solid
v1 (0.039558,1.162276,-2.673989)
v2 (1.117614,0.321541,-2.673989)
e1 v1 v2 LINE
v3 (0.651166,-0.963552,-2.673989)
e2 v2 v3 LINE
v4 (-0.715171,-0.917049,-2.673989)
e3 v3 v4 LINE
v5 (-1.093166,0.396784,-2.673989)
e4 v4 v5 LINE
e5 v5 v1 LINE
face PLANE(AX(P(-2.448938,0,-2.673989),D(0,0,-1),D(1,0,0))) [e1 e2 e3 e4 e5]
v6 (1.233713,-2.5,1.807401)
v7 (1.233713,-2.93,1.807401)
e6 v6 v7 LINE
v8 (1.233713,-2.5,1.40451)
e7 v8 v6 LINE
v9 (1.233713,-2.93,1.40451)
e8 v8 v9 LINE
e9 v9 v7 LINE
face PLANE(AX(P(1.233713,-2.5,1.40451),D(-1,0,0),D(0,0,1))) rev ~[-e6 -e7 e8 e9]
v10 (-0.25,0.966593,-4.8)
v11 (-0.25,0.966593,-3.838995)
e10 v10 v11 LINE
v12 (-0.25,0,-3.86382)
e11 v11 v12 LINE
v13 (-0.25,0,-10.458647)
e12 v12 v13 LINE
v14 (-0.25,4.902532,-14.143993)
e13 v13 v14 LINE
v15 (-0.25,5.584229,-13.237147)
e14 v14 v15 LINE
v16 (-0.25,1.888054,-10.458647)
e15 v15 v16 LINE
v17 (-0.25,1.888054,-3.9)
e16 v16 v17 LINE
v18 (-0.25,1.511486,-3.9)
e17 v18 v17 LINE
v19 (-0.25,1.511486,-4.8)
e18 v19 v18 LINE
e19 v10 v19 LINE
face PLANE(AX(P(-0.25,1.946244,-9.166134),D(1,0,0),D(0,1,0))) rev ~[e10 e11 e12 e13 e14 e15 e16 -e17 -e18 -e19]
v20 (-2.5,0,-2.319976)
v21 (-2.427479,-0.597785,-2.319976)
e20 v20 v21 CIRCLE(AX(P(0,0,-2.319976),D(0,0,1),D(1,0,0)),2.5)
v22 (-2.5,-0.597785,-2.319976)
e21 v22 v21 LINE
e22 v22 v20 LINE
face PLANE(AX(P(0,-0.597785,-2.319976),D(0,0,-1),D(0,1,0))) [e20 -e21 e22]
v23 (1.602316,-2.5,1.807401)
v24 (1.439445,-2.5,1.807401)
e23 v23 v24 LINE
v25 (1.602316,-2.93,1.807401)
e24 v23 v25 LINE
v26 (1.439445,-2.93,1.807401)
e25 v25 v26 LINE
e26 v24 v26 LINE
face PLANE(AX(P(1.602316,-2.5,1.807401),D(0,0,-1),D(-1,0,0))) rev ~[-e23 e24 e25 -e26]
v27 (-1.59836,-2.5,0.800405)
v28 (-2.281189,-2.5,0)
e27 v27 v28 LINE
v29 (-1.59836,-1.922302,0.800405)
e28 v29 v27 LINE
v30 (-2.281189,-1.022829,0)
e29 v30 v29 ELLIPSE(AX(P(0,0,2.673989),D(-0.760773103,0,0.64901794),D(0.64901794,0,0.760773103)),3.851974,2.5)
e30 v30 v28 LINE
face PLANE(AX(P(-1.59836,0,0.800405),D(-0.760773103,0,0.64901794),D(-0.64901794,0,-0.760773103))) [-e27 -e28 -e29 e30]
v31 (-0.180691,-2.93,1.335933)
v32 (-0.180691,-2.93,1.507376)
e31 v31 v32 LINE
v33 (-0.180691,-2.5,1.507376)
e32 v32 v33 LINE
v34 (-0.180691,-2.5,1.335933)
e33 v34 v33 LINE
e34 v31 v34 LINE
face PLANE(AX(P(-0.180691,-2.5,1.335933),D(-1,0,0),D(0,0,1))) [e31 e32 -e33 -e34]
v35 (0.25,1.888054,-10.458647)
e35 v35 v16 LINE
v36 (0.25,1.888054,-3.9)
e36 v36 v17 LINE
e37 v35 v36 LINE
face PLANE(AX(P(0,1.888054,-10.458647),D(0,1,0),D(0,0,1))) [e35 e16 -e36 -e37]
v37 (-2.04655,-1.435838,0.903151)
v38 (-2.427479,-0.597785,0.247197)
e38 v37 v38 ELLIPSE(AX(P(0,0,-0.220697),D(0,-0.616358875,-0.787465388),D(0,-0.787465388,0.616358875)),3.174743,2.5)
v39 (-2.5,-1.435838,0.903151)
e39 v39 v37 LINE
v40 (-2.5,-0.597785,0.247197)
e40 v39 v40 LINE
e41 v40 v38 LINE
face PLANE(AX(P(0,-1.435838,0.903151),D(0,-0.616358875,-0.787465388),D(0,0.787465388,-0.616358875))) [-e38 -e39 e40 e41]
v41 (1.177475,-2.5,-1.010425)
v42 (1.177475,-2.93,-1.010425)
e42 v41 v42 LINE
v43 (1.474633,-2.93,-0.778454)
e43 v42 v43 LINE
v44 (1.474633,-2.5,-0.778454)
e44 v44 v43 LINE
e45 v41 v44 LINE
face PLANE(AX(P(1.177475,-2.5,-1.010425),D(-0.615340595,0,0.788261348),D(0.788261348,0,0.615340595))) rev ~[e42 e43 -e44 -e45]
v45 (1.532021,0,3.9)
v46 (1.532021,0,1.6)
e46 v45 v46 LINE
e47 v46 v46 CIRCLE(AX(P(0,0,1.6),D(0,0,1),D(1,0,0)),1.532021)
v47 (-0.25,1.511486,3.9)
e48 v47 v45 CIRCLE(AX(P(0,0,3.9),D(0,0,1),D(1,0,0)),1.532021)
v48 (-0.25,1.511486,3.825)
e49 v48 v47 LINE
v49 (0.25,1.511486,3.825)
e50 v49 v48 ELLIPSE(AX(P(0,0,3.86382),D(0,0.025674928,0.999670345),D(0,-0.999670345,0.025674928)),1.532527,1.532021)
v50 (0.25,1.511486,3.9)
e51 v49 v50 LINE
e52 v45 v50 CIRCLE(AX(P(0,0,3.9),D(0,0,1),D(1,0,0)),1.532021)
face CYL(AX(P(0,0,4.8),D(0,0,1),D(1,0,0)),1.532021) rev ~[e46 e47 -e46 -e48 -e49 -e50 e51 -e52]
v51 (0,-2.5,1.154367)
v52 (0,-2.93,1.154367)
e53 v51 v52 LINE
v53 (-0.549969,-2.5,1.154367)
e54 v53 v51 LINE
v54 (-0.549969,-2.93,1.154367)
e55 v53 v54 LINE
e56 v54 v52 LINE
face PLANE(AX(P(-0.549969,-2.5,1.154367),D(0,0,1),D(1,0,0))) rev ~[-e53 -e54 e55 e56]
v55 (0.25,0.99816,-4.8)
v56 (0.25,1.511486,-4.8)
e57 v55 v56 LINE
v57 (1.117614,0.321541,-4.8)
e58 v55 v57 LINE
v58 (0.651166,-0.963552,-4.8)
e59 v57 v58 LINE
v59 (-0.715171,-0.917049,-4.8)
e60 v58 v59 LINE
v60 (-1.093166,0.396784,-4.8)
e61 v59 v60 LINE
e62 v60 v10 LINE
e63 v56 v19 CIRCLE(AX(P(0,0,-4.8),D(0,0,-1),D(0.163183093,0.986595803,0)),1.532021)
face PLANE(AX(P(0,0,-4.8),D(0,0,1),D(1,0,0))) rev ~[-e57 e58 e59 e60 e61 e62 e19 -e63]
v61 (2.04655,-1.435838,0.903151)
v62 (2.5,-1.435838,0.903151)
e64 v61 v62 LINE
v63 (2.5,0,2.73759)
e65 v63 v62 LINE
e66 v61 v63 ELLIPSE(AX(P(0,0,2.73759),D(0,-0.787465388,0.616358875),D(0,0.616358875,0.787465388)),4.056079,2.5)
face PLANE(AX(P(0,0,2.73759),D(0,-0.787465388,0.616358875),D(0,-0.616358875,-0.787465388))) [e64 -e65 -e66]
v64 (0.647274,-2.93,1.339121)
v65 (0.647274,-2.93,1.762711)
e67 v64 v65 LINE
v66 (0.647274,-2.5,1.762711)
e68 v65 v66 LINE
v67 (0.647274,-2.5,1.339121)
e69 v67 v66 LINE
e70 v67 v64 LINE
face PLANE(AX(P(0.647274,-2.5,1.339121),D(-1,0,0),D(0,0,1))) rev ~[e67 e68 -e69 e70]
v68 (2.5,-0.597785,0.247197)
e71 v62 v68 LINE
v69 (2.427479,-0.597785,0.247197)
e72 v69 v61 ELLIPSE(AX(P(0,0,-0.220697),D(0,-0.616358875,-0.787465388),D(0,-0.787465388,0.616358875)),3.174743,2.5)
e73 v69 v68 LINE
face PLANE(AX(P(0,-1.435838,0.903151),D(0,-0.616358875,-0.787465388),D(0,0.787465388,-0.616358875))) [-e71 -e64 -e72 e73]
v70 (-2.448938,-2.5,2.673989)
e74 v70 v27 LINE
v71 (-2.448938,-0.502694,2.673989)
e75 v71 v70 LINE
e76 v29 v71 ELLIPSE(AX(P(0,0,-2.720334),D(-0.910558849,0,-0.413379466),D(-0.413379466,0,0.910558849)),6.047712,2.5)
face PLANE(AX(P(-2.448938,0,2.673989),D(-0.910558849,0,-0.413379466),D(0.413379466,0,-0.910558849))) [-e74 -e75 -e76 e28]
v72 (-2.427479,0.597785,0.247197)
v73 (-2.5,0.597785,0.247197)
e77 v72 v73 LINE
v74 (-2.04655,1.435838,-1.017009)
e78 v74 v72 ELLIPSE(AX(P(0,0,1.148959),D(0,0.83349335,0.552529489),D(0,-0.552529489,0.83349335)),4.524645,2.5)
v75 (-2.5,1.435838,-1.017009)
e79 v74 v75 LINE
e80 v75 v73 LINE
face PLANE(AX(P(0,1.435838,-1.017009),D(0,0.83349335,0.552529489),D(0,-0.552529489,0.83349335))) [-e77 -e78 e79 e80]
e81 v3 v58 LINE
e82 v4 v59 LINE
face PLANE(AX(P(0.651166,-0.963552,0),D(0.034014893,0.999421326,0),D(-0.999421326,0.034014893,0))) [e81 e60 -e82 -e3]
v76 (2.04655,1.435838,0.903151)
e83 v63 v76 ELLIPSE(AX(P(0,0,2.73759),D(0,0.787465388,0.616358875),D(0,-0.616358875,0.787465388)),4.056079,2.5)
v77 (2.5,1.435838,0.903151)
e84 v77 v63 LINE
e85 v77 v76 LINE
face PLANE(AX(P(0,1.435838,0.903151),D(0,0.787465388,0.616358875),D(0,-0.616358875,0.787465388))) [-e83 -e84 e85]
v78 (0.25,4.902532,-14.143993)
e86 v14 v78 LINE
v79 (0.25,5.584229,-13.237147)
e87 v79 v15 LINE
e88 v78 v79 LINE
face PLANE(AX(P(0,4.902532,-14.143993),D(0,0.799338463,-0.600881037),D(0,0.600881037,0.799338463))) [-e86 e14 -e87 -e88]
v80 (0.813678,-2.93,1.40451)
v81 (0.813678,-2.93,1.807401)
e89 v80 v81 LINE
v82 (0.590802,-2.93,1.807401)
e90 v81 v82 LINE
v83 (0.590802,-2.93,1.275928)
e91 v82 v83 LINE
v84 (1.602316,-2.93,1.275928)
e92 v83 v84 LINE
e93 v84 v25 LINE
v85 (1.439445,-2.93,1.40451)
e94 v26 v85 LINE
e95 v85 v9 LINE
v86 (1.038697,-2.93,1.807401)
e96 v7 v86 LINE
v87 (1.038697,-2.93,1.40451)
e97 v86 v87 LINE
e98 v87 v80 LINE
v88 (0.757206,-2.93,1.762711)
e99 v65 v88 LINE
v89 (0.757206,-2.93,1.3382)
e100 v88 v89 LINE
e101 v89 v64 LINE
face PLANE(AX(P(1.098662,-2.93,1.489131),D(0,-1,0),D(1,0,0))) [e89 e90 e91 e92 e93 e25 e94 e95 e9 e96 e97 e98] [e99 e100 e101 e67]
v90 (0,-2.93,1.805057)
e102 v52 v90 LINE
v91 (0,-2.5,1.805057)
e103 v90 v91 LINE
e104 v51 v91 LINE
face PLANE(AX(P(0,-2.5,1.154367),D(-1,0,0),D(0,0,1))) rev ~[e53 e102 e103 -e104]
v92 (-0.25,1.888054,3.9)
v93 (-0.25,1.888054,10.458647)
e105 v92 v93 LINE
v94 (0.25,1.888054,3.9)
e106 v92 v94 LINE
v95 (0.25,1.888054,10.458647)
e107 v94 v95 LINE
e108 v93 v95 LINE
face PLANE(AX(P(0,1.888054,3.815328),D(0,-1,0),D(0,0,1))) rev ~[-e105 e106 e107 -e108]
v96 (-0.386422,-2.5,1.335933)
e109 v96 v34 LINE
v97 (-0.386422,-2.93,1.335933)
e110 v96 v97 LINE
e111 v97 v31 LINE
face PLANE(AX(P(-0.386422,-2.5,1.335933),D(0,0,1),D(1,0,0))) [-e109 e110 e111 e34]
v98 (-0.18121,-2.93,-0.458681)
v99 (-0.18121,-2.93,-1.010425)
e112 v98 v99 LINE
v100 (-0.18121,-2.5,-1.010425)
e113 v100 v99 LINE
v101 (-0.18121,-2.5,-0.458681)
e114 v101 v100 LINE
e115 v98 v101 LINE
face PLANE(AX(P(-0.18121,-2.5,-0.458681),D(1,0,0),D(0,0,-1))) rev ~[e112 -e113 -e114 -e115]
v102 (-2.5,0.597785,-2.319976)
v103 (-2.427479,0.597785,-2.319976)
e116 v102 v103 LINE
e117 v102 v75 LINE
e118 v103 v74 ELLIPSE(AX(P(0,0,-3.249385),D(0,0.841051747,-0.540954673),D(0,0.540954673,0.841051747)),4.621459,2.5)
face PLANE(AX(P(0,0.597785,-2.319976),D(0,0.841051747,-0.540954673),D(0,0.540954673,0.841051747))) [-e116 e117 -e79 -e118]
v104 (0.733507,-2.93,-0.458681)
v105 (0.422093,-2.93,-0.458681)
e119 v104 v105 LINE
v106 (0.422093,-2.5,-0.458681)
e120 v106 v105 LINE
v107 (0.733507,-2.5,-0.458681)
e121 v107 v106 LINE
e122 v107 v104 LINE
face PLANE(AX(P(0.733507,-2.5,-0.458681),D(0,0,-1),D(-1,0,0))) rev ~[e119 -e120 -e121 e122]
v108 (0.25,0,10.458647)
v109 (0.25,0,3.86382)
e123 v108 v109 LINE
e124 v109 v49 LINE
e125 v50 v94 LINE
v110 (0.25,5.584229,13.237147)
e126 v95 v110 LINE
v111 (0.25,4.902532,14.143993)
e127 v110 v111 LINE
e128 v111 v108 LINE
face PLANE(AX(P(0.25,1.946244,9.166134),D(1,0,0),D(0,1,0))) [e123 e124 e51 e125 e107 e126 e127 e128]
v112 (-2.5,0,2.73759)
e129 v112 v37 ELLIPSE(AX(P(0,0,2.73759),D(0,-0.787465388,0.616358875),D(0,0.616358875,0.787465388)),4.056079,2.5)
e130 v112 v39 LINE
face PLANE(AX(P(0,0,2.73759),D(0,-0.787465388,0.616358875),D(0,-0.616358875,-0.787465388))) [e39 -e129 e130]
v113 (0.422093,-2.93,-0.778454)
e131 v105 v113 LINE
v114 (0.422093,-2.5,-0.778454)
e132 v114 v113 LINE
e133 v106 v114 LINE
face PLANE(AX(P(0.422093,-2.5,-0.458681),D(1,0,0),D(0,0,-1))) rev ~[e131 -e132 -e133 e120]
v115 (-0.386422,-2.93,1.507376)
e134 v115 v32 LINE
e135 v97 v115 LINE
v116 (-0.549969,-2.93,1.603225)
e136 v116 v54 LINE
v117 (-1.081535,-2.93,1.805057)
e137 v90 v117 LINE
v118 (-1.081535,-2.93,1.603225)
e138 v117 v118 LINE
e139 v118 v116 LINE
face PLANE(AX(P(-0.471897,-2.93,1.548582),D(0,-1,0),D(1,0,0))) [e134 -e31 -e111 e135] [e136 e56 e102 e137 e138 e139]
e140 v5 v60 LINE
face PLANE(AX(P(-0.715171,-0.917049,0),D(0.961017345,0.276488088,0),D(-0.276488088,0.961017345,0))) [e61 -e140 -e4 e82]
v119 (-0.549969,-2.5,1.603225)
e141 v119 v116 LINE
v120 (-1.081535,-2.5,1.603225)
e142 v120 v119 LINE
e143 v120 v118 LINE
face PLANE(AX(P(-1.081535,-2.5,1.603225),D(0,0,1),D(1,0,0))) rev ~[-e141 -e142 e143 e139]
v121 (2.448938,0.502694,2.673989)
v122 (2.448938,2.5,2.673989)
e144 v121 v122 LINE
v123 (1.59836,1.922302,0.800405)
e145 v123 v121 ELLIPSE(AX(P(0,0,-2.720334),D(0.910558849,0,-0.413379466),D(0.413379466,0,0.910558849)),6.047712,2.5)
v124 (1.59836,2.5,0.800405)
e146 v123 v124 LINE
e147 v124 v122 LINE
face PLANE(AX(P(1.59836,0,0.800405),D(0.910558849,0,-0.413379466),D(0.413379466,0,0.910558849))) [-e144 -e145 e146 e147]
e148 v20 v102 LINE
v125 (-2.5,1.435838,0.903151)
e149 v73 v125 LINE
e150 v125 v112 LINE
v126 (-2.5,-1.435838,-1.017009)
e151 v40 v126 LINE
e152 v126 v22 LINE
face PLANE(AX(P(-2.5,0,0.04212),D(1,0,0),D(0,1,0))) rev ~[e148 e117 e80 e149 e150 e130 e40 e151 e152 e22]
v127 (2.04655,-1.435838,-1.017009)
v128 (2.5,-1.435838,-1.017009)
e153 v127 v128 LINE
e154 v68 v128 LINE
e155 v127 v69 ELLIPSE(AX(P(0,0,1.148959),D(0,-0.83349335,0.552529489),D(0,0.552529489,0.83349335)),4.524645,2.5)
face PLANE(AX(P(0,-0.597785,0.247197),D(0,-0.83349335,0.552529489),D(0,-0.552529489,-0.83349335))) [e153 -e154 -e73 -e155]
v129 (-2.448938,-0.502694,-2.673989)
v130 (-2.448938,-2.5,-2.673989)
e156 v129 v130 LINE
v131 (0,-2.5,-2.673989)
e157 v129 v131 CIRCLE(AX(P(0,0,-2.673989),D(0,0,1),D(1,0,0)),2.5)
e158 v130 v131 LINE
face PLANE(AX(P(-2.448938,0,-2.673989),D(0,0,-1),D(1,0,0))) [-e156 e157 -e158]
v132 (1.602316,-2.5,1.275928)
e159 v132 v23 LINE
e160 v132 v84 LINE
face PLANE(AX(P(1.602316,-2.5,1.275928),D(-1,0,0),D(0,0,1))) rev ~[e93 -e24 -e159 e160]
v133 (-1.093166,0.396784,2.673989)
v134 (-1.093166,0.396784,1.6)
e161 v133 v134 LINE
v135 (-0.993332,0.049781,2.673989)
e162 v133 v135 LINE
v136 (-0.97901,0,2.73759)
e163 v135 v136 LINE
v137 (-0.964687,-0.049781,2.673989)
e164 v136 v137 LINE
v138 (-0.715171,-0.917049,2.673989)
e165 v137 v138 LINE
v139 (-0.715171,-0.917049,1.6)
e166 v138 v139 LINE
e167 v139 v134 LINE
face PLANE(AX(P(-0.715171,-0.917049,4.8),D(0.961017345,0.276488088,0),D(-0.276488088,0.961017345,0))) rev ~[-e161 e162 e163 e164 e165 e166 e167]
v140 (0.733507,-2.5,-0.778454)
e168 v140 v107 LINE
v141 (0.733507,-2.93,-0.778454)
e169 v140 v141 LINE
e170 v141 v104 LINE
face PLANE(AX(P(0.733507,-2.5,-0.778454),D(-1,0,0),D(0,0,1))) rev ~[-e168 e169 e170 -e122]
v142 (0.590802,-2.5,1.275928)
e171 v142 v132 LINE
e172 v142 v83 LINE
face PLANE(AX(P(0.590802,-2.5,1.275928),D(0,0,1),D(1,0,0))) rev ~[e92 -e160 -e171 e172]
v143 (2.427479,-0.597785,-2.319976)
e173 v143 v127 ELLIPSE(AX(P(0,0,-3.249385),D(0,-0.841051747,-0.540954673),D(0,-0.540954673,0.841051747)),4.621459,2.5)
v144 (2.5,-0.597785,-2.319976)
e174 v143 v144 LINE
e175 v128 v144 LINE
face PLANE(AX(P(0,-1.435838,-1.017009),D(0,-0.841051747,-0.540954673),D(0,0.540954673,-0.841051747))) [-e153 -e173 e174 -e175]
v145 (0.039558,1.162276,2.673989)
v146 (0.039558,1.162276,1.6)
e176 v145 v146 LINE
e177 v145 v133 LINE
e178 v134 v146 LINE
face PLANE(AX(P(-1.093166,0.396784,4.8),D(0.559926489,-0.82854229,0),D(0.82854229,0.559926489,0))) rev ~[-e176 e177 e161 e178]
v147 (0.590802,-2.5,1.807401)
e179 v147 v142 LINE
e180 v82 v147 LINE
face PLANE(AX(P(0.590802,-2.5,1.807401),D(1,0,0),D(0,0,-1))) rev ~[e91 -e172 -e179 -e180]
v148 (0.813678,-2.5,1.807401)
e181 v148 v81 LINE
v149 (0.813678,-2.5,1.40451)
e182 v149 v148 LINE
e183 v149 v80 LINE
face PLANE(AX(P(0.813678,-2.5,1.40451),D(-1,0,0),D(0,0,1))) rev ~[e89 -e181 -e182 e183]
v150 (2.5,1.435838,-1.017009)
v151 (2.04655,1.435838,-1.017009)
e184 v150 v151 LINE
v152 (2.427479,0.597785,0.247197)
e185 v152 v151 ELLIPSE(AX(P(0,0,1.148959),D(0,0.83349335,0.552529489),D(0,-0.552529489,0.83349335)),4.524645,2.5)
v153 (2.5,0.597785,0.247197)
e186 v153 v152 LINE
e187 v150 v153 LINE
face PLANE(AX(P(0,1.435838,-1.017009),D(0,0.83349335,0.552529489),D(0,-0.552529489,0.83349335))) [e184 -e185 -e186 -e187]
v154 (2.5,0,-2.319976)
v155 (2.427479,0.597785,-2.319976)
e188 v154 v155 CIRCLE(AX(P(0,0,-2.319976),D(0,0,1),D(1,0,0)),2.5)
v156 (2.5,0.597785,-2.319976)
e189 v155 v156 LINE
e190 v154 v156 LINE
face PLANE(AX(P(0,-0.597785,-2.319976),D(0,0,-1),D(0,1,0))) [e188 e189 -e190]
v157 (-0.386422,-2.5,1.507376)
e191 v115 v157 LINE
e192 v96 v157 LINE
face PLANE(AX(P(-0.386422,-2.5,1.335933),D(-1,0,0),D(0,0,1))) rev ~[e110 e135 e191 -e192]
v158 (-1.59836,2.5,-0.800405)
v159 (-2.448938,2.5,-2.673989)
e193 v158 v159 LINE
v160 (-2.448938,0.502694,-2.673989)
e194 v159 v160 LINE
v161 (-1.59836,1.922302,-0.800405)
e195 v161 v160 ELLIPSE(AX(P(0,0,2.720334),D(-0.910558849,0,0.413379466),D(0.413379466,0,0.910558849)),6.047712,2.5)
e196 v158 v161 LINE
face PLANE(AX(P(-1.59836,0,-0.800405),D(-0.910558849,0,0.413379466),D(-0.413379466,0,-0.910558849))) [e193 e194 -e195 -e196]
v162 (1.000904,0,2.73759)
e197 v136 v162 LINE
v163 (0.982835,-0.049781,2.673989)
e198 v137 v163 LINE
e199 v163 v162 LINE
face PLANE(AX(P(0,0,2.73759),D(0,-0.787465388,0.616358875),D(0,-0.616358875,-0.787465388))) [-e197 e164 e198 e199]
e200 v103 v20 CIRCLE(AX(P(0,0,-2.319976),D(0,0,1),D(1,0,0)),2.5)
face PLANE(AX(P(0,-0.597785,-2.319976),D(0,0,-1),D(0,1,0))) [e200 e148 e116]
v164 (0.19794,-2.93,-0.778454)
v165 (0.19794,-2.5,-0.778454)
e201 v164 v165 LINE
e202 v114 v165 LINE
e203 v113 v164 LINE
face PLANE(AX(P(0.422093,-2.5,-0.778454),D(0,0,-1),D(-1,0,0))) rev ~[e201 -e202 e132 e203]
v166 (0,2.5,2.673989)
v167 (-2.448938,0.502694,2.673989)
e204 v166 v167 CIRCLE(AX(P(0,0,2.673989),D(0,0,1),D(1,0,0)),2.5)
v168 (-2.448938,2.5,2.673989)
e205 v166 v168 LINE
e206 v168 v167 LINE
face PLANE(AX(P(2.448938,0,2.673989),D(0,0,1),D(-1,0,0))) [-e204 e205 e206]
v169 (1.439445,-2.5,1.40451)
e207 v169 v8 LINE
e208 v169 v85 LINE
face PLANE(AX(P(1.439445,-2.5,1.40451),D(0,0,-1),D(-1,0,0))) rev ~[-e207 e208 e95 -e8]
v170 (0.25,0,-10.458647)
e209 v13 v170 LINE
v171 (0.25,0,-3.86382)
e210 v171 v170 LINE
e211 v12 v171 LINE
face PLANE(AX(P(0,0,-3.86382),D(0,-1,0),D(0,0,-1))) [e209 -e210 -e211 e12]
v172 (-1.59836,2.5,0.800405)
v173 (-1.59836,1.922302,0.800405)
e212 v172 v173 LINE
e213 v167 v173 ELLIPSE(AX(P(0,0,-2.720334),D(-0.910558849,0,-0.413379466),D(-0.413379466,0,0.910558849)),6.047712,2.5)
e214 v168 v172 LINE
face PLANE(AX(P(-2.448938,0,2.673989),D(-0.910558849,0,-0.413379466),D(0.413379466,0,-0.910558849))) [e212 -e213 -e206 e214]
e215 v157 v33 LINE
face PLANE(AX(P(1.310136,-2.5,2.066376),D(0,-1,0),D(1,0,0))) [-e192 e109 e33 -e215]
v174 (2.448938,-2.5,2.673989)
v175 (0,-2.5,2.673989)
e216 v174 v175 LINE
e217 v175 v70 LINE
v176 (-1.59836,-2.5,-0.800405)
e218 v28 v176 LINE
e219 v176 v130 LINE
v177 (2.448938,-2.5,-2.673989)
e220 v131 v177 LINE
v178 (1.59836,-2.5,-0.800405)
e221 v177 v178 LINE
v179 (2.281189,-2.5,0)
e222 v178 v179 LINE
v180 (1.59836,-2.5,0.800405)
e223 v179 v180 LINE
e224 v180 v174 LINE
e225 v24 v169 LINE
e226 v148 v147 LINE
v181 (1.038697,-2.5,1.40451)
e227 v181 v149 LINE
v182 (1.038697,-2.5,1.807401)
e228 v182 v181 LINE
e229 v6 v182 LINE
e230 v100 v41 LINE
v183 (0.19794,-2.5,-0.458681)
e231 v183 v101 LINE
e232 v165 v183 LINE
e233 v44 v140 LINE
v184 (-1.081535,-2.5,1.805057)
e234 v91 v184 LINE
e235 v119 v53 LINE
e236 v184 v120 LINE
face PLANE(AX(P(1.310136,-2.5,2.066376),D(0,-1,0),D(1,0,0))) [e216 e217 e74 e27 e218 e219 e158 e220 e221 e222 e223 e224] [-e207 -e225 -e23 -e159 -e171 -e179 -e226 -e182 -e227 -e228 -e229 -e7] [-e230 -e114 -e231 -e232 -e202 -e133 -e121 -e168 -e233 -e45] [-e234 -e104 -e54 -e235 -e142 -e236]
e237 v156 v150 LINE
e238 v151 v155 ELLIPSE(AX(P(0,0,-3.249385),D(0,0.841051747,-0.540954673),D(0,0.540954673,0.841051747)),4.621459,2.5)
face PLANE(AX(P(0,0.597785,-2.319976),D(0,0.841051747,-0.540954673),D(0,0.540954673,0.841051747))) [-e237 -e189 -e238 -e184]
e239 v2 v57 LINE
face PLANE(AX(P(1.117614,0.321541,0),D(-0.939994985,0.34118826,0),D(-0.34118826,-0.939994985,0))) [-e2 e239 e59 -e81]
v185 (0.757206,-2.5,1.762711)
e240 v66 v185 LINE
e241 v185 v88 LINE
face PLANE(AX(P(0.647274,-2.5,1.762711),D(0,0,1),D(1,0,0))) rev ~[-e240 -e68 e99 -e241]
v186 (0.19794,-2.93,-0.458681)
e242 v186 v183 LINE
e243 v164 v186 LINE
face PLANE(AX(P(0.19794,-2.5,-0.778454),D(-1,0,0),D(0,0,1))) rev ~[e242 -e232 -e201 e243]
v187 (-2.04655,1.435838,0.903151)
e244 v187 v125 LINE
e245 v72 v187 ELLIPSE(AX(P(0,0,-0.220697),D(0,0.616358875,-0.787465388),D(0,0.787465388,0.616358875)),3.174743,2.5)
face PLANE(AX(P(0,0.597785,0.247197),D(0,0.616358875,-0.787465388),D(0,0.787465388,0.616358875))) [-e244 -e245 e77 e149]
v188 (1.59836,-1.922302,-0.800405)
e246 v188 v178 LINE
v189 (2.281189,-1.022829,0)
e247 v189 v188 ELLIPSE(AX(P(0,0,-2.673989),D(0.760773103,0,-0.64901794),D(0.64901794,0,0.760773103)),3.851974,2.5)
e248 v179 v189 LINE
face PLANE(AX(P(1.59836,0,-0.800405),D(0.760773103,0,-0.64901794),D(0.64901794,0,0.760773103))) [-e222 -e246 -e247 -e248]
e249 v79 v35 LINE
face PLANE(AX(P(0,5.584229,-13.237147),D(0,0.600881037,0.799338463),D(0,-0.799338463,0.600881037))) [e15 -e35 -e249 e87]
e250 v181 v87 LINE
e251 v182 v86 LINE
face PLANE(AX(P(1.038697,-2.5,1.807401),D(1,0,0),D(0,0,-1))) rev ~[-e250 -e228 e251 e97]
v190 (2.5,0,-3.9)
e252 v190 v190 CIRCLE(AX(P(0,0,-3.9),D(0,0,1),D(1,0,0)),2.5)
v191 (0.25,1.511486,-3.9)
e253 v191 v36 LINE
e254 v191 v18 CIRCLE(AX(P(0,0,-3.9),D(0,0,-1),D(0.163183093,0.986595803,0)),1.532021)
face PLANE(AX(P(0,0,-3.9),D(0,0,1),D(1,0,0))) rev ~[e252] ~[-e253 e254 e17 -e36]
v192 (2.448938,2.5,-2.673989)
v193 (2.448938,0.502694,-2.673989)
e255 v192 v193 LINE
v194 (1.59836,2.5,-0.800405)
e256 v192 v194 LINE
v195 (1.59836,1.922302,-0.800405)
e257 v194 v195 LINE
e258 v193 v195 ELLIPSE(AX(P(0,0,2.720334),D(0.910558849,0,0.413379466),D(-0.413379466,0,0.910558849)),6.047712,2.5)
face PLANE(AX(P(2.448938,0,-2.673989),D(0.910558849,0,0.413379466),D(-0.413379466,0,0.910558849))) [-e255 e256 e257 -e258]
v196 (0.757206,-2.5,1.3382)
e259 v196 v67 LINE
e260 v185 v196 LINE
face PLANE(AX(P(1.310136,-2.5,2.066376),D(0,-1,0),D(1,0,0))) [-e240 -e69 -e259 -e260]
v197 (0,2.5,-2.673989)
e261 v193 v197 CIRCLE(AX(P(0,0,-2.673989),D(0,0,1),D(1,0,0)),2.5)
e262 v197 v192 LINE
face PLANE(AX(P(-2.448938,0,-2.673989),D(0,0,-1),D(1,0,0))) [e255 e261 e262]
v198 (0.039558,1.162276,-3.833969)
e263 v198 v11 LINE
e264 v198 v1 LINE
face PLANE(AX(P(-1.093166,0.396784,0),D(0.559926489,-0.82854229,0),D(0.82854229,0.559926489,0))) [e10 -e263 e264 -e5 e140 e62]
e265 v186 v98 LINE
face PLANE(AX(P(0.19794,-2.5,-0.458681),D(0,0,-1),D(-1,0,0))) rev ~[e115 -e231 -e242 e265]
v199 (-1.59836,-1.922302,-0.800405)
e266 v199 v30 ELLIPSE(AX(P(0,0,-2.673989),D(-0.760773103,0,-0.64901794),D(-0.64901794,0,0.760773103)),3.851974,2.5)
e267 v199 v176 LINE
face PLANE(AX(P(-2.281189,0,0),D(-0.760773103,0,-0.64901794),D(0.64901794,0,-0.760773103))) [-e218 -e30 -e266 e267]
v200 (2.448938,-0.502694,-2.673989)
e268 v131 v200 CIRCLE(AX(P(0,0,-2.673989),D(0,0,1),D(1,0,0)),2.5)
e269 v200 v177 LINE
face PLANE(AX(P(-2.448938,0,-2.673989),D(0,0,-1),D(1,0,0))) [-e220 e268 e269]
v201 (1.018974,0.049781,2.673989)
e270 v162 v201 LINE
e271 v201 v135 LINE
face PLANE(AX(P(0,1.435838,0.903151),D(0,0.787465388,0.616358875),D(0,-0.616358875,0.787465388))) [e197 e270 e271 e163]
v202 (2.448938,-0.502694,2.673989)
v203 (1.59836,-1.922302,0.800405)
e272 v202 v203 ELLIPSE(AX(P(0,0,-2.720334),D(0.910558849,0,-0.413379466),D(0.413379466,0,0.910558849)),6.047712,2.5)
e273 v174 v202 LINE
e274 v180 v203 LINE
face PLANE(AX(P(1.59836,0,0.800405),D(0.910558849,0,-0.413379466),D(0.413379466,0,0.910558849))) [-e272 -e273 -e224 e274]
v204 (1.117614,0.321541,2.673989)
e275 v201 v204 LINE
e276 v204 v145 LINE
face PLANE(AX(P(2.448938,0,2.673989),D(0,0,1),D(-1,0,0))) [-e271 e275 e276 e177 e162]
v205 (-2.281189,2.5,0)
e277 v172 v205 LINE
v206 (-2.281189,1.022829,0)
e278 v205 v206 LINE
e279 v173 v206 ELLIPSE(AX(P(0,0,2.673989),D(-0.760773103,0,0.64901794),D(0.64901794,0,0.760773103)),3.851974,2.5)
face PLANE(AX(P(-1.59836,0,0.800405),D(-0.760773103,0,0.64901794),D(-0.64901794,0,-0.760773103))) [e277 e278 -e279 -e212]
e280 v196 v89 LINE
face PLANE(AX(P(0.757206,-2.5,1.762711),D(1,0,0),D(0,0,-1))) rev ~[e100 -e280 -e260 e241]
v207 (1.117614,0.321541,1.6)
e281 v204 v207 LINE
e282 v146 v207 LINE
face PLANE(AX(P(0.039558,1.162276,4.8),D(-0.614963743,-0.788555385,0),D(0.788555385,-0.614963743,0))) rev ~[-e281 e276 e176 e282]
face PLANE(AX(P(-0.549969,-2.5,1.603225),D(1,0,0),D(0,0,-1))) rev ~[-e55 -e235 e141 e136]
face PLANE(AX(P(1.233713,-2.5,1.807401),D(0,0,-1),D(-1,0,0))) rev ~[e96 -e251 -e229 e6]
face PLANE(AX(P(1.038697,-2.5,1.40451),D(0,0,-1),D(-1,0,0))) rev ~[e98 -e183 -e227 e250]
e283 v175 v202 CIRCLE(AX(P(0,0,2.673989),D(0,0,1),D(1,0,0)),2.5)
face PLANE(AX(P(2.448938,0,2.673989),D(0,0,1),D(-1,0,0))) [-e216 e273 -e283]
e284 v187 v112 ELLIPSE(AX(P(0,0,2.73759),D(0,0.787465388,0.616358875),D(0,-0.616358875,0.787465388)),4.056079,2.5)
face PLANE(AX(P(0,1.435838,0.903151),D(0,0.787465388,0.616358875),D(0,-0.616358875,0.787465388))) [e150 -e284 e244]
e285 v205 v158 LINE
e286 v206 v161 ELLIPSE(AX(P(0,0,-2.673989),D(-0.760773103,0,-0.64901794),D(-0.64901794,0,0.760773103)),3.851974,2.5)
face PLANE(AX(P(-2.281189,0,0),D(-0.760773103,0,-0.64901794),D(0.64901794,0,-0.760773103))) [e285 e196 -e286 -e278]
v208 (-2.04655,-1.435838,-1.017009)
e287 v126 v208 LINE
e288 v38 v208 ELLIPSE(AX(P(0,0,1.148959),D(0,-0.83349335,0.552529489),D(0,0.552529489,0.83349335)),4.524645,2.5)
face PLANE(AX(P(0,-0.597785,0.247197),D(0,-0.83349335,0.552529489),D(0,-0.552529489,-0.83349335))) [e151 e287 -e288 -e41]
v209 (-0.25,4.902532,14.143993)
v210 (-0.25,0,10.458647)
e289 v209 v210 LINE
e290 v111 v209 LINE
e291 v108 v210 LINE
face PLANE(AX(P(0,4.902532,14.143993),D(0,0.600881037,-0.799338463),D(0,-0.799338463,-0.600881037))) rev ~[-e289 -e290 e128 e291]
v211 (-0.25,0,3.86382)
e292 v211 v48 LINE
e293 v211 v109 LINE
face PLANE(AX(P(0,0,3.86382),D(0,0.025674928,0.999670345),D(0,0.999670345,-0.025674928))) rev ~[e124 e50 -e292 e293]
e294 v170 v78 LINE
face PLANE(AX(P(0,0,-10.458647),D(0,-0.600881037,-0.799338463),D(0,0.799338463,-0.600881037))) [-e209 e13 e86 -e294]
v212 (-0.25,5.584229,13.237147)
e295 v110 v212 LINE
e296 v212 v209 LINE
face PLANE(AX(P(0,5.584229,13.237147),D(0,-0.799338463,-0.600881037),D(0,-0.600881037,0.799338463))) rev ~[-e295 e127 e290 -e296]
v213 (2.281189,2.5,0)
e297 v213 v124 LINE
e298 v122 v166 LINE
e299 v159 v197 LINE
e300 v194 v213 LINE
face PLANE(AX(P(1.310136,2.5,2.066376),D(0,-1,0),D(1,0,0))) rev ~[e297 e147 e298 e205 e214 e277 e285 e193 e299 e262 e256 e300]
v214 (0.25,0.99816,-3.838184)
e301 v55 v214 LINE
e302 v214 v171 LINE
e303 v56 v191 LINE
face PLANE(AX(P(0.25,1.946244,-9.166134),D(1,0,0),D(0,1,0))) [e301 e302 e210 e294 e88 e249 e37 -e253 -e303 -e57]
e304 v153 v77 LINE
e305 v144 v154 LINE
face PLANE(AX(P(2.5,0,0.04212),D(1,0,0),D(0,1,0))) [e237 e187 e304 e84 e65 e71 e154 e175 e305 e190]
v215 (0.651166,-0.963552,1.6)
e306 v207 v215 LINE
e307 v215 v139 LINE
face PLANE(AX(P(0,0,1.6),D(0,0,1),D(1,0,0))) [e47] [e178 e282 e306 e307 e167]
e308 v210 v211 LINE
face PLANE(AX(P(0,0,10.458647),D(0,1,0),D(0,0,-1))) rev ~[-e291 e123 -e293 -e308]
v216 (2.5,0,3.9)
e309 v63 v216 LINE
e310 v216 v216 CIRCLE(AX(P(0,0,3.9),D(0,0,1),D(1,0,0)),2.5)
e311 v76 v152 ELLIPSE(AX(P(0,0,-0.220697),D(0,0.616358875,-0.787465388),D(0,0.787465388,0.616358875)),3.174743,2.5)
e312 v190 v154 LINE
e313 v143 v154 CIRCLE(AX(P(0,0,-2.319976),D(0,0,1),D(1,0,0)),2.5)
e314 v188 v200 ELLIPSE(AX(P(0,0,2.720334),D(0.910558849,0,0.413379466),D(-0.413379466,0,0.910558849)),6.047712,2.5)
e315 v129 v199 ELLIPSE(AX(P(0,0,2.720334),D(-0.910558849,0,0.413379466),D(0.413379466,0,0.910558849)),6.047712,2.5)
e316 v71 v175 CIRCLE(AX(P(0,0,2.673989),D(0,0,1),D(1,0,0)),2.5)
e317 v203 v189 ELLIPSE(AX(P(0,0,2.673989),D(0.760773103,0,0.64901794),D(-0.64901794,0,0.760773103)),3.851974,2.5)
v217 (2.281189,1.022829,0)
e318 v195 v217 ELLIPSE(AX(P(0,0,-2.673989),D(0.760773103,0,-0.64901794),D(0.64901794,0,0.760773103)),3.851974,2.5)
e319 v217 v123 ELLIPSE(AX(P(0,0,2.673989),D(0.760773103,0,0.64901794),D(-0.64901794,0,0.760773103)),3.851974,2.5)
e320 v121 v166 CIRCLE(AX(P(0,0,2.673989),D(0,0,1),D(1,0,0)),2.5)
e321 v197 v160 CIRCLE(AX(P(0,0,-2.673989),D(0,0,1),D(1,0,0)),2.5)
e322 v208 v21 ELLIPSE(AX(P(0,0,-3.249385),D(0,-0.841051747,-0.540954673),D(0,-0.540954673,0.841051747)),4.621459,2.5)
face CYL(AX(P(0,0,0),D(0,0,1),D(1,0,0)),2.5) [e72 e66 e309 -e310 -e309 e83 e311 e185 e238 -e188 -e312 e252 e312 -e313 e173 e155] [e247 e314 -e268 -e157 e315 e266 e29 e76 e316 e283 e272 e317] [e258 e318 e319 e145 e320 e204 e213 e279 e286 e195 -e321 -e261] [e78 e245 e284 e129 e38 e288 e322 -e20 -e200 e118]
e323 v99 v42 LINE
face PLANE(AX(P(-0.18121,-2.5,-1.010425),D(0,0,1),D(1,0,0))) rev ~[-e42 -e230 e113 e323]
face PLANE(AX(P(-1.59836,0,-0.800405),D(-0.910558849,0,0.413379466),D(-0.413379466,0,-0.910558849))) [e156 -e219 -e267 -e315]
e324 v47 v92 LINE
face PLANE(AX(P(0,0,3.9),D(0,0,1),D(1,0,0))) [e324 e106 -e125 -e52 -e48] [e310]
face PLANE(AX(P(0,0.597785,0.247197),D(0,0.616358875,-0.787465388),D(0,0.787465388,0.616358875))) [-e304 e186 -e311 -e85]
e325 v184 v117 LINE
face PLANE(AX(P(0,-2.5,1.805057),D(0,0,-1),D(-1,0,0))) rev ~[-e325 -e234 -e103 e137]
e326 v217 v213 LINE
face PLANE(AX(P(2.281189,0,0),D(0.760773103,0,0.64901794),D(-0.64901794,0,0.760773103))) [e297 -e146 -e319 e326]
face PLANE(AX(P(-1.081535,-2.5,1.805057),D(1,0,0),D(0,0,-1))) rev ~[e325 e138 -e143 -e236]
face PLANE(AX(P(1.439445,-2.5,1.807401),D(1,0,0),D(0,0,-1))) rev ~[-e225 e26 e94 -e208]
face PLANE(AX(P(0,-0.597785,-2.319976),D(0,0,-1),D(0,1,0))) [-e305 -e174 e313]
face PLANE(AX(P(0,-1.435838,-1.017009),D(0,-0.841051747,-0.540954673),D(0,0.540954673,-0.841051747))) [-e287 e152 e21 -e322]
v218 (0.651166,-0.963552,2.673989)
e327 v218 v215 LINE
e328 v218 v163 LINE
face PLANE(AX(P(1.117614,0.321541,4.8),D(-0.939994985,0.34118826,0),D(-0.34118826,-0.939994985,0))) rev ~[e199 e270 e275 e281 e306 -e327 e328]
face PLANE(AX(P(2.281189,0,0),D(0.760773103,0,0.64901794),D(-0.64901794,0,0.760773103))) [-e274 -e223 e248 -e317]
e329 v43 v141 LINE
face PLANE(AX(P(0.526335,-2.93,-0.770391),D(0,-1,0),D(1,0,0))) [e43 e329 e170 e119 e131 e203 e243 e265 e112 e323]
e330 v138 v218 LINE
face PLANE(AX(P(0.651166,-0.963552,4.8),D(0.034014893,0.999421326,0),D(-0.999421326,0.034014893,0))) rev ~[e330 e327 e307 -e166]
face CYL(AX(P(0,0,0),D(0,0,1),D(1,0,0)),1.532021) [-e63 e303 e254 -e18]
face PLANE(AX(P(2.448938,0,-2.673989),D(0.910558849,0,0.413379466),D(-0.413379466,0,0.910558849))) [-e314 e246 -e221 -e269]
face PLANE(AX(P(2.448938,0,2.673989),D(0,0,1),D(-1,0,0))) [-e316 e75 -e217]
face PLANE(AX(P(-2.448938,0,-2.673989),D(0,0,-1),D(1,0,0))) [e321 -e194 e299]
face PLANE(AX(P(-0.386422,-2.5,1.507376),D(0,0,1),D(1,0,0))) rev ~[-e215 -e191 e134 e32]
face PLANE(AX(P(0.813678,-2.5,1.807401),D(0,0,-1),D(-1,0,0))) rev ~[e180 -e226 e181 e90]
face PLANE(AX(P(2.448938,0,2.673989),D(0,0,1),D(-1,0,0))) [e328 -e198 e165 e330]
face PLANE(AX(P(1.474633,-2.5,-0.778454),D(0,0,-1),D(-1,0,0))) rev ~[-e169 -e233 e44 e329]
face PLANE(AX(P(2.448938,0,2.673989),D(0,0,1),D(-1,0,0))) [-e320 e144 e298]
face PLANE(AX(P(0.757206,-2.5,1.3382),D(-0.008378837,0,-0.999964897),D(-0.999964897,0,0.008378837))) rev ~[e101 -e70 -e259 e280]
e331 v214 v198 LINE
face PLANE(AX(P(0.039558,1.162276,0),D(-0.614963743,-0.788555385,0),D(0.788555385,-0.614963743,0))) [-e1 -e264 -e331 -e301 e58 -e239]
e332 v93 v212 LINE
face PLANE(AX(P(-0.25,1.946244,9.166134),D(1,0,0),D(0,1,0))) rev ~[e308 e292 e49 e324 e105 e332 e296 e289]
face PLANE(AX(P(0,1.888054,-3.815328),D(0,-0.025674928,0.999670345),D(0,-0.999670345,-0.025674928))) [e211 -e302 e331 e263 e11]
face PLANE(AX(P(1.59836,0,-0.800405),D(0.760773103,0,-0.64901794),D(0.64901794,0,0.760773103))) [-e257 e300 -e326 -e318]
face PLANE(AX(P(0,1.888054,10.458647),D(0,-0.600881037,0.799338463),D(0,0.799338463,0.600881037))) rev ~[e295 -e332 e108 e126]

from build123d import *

# Parameters (mm, degrees)
F0_R      = 1.5320214601
F1_DEPTH  = 4.8
F0_R_2    = 2.5
F2_DEPTH  = 3.9
F4_DEPTH  = 2.5
F6_DEPTH  = 2.5
F7_DEPTH  = 3.2
F8_W      = 0.2057314705
F8_H      = 0.1714428654
F9_DEPTH  = 0.4
F11_DEPTH = 0.25
F12_DEPTH = 0.43


with BuildPart() as f1:
    # F0 (on Top) → F1 (new body, symmetric)
    with BuildSketch(Plane.XY):
        Circle(F0_R)
        Polygon((0.039557572, 1.1622756139), (1.1176137583, 0.3215414302), (0.6511657169, -0.9635520812), (-0.715171213, -0.9170493663), (-1.0931658343, 0.3967844035), align=None, mode=Mode.SUBTRACT)
    extrude(amount=F1_DEPTH, both=True)

    # F0 (on Top) → F2 (join, symmetric)
    with BuildSketch(Plane.XY):
        Circle(F0_R_2)
        Circle(F0_R, mode=Mode.SUBTRACT)
    extrude(amount=F2_DEPTH, both=True)

    # F3 (on Front) → F4 (join, symmetric)
    with BuildSketch(Plane.XZ):
        Polygon((2.4489383213, 2.6739891618), (0, 2.6739891618), (1.5983604826, 0.8004051051), align=None)
        Polygon((-1.5983604826, 0.8004051051), (0, 2.6739891618), (-2.4489383213, 2.6739891618), align=None)
        Polygon((0, 0), (0, 2.6739891618), (-1.5983604826, 0.8004051051), (-1.5983604826, 0), align=None)
        Polygon((1.5983604826, 0.8004051051), (0, 2.6739891618), (0, 0), (1.5983604826, 0), align=None)
        Polygon((2.2811886085, 0), (1.5983604826, 0.8004051051), (1.5983604826, 0), (1.5983604826, -0.8004051051), align=None)
        Polygon((-1.5983604826, 0), (-1.5983604826, 0.8004051051), (-2.2811886085, 0), (-1.5983604826, -0.8004051051), align=None)
        Polygon((0, -2.6739891618), (0, 0), (-1.5983604826, 0), (-1.5983604826, -0.8004051051), align=None)
        Polygon((1.5983604826, 0), (0, 0), (0, -2.6739891618), (1.5983604826, -0.8004051051), align=None)
        Polygon((1.5983604826, -0.8004051051), (0, -2.6739891618), (2.4489383213, -2.6739891618), align=None)
        Polygon((-2.4489383213, -2.6739891618), (0, -2.6739891618), (-1.5983604826, -0.8004051051), align=None)
    extrude(amount=F4_DEPTH, both=True)

    # F5 (on Right) → F6 (join, symmetric)
    with BuildSketch(Plane.YZ):
        Polygon((1.4358381741, 0.9031511727), (0, 2.7375903446), (-1.4358381741, 0.9031511727), (-0.5977854705, 0.2471969813), (-1.4358381741, -1.0170094902), (-0.5977854705, -2.3199757561), (0.5977854705, -2.3199757561), (1.4358381741, -1.0170094902), (0.5977854705, 0.2471969813), align=None)
    extrude(amount=F6_DEPTH, both=True)

    # F7 (cut): a face of the model
    f7_faces = [f1.faces().sort_by_distance(p)[0] for p in [
        (-1.4886893496, 0, 4.8),
    ]]
    extrude(f7_faces, amount=-F7_DEPTH, mode=Mode.SUBTRACT)

    # F8 (on face) → F9 (join)
    with BuildSketch(Plane.XZ.offset(2.5)):
        Polygon((-0.181210431, -0.4586814321), (-0.181210431, -1.0104251851), (1.1774745134, -1.0104251851), (1.4746332308, -0.7784541231), (1.1832588352, -0.7784541231), (0.7335068658, -0.7784541231), (0.7335068658, -0.4586814321), (0.4220934934, -0.4586814321), (0.4220934934, -0.7784541231), (0.1979402587, -0.7784541231), (0.1979402587, -0.4586814321), align=None)
        Polygon((0, 1.6032253625), (0, 1.8050573999), (-1.0815345449, 1.8050573999), (-1.0815345449, 1.6032253625), (-0.5499689287, 1.6032253625), (-0.5499689287, 1.1543665896), (0, 1.1543665896), align=None)
        with Locations((-0.2835566193, 1.4216544223)):
            Rectangle(F8_W, F8_H, mode=Mode.SUBTRACT)
        Polygon((0.5908022868, 1.8074008403), (0.5908022868, 1.2759278761), (1.2337132357, 1.2759278761), (1.6023155767, 1.2759278761), (1.6023155767, 1.7541147536), (1.5667511437, 1.7541147536), (1.529708039, 1.7541147536), (1.529708039, 1.3383656042), (1.1996804969, 1.3380937204), (1.0839564493, 1.3379983845), (1.0839564493, 1.8074008403), (1.0386969661, 1.8074008403), (1.0386969661, 1.4045101125), (0.8136780816, 1.4045101125), (0.8136780816, 1.8074008403), align=None)
        Polygon((0.7572061731, 1.7627113266), (0.7572061731, 1.3381995394), (0.6472741952, 1.3391206739), (0.6472741952, 1.7627113266), align=None, mode=Mode.SUBTRACT)
        Polygon((1.5667511437, 1.7541147536), (1.6023155767, 1.7541147536), (1.6023155767, 1.8074008403), (1.4394447207, 1.8074008403), (1.4394447207, 1.7541147536), (1.529708039, 1.7541147536), align=None)
        Polygon((1.529708039, 1.3383656042), (1.529708039, 1.7541147536), (1.4394447207, 1.7541147536), (1.4394447207, 1.4045101125), (1.2337132357, 1.4045101125), (1.2337132357, 1.8074008403), (1.1996804969, 1.8074008403), (1.1996804969, 1.3380937204), align=None)
        Polygon((1.1996804969, 1.8074008403), (1.0839564493, 1.8074008403), (1.0839564493, 1.3379983845), (1.1996804969, 1.3380937204), align=None)
    extrude(amount=F9_DEPTH)

    # F10 (on Right) → F11 (join, symmetric)
    with BuildSketch(Plane.YZ):
        Polygon((0, 10.4586472735), (0, 3.8638201077), (1.8880540525, 3.8153284695), (1.8880540525, 10.4586472735), (5.5842293836, 13.2371469554), (4.9025323242, 14.1439931467), align=None)
        Polygon((1.8880540525, -3.8153284695), (0, -3.8638201077), (0, -10.4586472735), (4.9025323242, -14.1439931467), (5.5842293836, -13.2371469554), (1.8880540525, -10.4586472735), align=None)
    extrude(amount=F11_DEPTH, both=True)

    # F8 (on face) → F12 (join)
    with BuildSketch(Plane.XZ.offset(2.5)):
        Polygon((-0.181210431, -0.4586814321), (-0.181210431, -1.0104251851), (1.1774745134, -1.0104251851), (1.4746332308, -0.7784541231), (1.1832588352, -0.7784541231), (0.7335068658, -0.7784541231), (0.7335068658, -0.4586814321), (0.4220934934, -0.4586814321), (0.4220934934, -0.7784541231), (0.1979402587, -0.7784541231), (0.1979402587, -0.4586814321), align=None)
        Polygon((0, 1.6032253625), (0, 1.8050573999), (-1.0815345449, 1.8050573999), (-1.0815345449, 1.6032253625), (-0.5499689287, 1.6032253625), (-0.5499689287, 1.1543665896), (0, 1.1543665896), align=None)
        with Locations((-0.2835566193, 1.4216544223)):
            Rectangle(F8_W, F8_H, mode=Mode.SUBTRACT)
        Polygon((0.5908022868, 1.8074008403), (0.5908022868, 1.2759278761), (1.2337132357, 1.2759278761), (1.6023155767, 1.2759278761), (1.6023155767, 1.7541147536), (1.5667511437, 1.7541147536), (1.529708039, 1.7541147536), (1.529708039, 1.3383656042), (1.1996804969, 1.3380937204), (1.0839564493, 1.3379983845), (1.0839564493, 1.8074008403), (1.0386969661, 1.8074008403), (1.0386969661, 1.4045101125), (0.8136780816, 1.4045101125), (0.8136780816, 1.8074008403), align=None)
        Polygon((0.7572061731, 1.7627113266), (0.7572061731, 1.3381995394), (0.6472741952, 1.3391206739), (0.6472741952, 1.7627113266), align=None, mode=Mode.SUBTRACT)
        Polygon((1.5667511437, 1.7541147536), (1.6023155767, 1.7541147536), (1.6023155767, 1.8074008403), (1.4394447207, 1.8074008403), (1.4394447207, 1.7541147536), (1.529708039, 1.7541147536), align=None)
        Polygon((1.529708039, 1.3383656042), (1.529708039, 1.7541147536), (1.4394447207, 1.7541147536), (1.4394447207, 1.4045101125), (1.2337132357, 1.4045101125), (1.2337132357, 1.8074008403), (1.1996804969, 1.8074008403), (1.1996804969, 1.3380937204), align=None)
        Polygon((1.1996804969, 1.8074008403), (1.0839564493, 1.8074008403), (1.0839564493, 1.3379983845), (1.1996804969, 1.3380937204), align=None)
    extrude(amount=F12_DEPTH)


solid = f1.part
